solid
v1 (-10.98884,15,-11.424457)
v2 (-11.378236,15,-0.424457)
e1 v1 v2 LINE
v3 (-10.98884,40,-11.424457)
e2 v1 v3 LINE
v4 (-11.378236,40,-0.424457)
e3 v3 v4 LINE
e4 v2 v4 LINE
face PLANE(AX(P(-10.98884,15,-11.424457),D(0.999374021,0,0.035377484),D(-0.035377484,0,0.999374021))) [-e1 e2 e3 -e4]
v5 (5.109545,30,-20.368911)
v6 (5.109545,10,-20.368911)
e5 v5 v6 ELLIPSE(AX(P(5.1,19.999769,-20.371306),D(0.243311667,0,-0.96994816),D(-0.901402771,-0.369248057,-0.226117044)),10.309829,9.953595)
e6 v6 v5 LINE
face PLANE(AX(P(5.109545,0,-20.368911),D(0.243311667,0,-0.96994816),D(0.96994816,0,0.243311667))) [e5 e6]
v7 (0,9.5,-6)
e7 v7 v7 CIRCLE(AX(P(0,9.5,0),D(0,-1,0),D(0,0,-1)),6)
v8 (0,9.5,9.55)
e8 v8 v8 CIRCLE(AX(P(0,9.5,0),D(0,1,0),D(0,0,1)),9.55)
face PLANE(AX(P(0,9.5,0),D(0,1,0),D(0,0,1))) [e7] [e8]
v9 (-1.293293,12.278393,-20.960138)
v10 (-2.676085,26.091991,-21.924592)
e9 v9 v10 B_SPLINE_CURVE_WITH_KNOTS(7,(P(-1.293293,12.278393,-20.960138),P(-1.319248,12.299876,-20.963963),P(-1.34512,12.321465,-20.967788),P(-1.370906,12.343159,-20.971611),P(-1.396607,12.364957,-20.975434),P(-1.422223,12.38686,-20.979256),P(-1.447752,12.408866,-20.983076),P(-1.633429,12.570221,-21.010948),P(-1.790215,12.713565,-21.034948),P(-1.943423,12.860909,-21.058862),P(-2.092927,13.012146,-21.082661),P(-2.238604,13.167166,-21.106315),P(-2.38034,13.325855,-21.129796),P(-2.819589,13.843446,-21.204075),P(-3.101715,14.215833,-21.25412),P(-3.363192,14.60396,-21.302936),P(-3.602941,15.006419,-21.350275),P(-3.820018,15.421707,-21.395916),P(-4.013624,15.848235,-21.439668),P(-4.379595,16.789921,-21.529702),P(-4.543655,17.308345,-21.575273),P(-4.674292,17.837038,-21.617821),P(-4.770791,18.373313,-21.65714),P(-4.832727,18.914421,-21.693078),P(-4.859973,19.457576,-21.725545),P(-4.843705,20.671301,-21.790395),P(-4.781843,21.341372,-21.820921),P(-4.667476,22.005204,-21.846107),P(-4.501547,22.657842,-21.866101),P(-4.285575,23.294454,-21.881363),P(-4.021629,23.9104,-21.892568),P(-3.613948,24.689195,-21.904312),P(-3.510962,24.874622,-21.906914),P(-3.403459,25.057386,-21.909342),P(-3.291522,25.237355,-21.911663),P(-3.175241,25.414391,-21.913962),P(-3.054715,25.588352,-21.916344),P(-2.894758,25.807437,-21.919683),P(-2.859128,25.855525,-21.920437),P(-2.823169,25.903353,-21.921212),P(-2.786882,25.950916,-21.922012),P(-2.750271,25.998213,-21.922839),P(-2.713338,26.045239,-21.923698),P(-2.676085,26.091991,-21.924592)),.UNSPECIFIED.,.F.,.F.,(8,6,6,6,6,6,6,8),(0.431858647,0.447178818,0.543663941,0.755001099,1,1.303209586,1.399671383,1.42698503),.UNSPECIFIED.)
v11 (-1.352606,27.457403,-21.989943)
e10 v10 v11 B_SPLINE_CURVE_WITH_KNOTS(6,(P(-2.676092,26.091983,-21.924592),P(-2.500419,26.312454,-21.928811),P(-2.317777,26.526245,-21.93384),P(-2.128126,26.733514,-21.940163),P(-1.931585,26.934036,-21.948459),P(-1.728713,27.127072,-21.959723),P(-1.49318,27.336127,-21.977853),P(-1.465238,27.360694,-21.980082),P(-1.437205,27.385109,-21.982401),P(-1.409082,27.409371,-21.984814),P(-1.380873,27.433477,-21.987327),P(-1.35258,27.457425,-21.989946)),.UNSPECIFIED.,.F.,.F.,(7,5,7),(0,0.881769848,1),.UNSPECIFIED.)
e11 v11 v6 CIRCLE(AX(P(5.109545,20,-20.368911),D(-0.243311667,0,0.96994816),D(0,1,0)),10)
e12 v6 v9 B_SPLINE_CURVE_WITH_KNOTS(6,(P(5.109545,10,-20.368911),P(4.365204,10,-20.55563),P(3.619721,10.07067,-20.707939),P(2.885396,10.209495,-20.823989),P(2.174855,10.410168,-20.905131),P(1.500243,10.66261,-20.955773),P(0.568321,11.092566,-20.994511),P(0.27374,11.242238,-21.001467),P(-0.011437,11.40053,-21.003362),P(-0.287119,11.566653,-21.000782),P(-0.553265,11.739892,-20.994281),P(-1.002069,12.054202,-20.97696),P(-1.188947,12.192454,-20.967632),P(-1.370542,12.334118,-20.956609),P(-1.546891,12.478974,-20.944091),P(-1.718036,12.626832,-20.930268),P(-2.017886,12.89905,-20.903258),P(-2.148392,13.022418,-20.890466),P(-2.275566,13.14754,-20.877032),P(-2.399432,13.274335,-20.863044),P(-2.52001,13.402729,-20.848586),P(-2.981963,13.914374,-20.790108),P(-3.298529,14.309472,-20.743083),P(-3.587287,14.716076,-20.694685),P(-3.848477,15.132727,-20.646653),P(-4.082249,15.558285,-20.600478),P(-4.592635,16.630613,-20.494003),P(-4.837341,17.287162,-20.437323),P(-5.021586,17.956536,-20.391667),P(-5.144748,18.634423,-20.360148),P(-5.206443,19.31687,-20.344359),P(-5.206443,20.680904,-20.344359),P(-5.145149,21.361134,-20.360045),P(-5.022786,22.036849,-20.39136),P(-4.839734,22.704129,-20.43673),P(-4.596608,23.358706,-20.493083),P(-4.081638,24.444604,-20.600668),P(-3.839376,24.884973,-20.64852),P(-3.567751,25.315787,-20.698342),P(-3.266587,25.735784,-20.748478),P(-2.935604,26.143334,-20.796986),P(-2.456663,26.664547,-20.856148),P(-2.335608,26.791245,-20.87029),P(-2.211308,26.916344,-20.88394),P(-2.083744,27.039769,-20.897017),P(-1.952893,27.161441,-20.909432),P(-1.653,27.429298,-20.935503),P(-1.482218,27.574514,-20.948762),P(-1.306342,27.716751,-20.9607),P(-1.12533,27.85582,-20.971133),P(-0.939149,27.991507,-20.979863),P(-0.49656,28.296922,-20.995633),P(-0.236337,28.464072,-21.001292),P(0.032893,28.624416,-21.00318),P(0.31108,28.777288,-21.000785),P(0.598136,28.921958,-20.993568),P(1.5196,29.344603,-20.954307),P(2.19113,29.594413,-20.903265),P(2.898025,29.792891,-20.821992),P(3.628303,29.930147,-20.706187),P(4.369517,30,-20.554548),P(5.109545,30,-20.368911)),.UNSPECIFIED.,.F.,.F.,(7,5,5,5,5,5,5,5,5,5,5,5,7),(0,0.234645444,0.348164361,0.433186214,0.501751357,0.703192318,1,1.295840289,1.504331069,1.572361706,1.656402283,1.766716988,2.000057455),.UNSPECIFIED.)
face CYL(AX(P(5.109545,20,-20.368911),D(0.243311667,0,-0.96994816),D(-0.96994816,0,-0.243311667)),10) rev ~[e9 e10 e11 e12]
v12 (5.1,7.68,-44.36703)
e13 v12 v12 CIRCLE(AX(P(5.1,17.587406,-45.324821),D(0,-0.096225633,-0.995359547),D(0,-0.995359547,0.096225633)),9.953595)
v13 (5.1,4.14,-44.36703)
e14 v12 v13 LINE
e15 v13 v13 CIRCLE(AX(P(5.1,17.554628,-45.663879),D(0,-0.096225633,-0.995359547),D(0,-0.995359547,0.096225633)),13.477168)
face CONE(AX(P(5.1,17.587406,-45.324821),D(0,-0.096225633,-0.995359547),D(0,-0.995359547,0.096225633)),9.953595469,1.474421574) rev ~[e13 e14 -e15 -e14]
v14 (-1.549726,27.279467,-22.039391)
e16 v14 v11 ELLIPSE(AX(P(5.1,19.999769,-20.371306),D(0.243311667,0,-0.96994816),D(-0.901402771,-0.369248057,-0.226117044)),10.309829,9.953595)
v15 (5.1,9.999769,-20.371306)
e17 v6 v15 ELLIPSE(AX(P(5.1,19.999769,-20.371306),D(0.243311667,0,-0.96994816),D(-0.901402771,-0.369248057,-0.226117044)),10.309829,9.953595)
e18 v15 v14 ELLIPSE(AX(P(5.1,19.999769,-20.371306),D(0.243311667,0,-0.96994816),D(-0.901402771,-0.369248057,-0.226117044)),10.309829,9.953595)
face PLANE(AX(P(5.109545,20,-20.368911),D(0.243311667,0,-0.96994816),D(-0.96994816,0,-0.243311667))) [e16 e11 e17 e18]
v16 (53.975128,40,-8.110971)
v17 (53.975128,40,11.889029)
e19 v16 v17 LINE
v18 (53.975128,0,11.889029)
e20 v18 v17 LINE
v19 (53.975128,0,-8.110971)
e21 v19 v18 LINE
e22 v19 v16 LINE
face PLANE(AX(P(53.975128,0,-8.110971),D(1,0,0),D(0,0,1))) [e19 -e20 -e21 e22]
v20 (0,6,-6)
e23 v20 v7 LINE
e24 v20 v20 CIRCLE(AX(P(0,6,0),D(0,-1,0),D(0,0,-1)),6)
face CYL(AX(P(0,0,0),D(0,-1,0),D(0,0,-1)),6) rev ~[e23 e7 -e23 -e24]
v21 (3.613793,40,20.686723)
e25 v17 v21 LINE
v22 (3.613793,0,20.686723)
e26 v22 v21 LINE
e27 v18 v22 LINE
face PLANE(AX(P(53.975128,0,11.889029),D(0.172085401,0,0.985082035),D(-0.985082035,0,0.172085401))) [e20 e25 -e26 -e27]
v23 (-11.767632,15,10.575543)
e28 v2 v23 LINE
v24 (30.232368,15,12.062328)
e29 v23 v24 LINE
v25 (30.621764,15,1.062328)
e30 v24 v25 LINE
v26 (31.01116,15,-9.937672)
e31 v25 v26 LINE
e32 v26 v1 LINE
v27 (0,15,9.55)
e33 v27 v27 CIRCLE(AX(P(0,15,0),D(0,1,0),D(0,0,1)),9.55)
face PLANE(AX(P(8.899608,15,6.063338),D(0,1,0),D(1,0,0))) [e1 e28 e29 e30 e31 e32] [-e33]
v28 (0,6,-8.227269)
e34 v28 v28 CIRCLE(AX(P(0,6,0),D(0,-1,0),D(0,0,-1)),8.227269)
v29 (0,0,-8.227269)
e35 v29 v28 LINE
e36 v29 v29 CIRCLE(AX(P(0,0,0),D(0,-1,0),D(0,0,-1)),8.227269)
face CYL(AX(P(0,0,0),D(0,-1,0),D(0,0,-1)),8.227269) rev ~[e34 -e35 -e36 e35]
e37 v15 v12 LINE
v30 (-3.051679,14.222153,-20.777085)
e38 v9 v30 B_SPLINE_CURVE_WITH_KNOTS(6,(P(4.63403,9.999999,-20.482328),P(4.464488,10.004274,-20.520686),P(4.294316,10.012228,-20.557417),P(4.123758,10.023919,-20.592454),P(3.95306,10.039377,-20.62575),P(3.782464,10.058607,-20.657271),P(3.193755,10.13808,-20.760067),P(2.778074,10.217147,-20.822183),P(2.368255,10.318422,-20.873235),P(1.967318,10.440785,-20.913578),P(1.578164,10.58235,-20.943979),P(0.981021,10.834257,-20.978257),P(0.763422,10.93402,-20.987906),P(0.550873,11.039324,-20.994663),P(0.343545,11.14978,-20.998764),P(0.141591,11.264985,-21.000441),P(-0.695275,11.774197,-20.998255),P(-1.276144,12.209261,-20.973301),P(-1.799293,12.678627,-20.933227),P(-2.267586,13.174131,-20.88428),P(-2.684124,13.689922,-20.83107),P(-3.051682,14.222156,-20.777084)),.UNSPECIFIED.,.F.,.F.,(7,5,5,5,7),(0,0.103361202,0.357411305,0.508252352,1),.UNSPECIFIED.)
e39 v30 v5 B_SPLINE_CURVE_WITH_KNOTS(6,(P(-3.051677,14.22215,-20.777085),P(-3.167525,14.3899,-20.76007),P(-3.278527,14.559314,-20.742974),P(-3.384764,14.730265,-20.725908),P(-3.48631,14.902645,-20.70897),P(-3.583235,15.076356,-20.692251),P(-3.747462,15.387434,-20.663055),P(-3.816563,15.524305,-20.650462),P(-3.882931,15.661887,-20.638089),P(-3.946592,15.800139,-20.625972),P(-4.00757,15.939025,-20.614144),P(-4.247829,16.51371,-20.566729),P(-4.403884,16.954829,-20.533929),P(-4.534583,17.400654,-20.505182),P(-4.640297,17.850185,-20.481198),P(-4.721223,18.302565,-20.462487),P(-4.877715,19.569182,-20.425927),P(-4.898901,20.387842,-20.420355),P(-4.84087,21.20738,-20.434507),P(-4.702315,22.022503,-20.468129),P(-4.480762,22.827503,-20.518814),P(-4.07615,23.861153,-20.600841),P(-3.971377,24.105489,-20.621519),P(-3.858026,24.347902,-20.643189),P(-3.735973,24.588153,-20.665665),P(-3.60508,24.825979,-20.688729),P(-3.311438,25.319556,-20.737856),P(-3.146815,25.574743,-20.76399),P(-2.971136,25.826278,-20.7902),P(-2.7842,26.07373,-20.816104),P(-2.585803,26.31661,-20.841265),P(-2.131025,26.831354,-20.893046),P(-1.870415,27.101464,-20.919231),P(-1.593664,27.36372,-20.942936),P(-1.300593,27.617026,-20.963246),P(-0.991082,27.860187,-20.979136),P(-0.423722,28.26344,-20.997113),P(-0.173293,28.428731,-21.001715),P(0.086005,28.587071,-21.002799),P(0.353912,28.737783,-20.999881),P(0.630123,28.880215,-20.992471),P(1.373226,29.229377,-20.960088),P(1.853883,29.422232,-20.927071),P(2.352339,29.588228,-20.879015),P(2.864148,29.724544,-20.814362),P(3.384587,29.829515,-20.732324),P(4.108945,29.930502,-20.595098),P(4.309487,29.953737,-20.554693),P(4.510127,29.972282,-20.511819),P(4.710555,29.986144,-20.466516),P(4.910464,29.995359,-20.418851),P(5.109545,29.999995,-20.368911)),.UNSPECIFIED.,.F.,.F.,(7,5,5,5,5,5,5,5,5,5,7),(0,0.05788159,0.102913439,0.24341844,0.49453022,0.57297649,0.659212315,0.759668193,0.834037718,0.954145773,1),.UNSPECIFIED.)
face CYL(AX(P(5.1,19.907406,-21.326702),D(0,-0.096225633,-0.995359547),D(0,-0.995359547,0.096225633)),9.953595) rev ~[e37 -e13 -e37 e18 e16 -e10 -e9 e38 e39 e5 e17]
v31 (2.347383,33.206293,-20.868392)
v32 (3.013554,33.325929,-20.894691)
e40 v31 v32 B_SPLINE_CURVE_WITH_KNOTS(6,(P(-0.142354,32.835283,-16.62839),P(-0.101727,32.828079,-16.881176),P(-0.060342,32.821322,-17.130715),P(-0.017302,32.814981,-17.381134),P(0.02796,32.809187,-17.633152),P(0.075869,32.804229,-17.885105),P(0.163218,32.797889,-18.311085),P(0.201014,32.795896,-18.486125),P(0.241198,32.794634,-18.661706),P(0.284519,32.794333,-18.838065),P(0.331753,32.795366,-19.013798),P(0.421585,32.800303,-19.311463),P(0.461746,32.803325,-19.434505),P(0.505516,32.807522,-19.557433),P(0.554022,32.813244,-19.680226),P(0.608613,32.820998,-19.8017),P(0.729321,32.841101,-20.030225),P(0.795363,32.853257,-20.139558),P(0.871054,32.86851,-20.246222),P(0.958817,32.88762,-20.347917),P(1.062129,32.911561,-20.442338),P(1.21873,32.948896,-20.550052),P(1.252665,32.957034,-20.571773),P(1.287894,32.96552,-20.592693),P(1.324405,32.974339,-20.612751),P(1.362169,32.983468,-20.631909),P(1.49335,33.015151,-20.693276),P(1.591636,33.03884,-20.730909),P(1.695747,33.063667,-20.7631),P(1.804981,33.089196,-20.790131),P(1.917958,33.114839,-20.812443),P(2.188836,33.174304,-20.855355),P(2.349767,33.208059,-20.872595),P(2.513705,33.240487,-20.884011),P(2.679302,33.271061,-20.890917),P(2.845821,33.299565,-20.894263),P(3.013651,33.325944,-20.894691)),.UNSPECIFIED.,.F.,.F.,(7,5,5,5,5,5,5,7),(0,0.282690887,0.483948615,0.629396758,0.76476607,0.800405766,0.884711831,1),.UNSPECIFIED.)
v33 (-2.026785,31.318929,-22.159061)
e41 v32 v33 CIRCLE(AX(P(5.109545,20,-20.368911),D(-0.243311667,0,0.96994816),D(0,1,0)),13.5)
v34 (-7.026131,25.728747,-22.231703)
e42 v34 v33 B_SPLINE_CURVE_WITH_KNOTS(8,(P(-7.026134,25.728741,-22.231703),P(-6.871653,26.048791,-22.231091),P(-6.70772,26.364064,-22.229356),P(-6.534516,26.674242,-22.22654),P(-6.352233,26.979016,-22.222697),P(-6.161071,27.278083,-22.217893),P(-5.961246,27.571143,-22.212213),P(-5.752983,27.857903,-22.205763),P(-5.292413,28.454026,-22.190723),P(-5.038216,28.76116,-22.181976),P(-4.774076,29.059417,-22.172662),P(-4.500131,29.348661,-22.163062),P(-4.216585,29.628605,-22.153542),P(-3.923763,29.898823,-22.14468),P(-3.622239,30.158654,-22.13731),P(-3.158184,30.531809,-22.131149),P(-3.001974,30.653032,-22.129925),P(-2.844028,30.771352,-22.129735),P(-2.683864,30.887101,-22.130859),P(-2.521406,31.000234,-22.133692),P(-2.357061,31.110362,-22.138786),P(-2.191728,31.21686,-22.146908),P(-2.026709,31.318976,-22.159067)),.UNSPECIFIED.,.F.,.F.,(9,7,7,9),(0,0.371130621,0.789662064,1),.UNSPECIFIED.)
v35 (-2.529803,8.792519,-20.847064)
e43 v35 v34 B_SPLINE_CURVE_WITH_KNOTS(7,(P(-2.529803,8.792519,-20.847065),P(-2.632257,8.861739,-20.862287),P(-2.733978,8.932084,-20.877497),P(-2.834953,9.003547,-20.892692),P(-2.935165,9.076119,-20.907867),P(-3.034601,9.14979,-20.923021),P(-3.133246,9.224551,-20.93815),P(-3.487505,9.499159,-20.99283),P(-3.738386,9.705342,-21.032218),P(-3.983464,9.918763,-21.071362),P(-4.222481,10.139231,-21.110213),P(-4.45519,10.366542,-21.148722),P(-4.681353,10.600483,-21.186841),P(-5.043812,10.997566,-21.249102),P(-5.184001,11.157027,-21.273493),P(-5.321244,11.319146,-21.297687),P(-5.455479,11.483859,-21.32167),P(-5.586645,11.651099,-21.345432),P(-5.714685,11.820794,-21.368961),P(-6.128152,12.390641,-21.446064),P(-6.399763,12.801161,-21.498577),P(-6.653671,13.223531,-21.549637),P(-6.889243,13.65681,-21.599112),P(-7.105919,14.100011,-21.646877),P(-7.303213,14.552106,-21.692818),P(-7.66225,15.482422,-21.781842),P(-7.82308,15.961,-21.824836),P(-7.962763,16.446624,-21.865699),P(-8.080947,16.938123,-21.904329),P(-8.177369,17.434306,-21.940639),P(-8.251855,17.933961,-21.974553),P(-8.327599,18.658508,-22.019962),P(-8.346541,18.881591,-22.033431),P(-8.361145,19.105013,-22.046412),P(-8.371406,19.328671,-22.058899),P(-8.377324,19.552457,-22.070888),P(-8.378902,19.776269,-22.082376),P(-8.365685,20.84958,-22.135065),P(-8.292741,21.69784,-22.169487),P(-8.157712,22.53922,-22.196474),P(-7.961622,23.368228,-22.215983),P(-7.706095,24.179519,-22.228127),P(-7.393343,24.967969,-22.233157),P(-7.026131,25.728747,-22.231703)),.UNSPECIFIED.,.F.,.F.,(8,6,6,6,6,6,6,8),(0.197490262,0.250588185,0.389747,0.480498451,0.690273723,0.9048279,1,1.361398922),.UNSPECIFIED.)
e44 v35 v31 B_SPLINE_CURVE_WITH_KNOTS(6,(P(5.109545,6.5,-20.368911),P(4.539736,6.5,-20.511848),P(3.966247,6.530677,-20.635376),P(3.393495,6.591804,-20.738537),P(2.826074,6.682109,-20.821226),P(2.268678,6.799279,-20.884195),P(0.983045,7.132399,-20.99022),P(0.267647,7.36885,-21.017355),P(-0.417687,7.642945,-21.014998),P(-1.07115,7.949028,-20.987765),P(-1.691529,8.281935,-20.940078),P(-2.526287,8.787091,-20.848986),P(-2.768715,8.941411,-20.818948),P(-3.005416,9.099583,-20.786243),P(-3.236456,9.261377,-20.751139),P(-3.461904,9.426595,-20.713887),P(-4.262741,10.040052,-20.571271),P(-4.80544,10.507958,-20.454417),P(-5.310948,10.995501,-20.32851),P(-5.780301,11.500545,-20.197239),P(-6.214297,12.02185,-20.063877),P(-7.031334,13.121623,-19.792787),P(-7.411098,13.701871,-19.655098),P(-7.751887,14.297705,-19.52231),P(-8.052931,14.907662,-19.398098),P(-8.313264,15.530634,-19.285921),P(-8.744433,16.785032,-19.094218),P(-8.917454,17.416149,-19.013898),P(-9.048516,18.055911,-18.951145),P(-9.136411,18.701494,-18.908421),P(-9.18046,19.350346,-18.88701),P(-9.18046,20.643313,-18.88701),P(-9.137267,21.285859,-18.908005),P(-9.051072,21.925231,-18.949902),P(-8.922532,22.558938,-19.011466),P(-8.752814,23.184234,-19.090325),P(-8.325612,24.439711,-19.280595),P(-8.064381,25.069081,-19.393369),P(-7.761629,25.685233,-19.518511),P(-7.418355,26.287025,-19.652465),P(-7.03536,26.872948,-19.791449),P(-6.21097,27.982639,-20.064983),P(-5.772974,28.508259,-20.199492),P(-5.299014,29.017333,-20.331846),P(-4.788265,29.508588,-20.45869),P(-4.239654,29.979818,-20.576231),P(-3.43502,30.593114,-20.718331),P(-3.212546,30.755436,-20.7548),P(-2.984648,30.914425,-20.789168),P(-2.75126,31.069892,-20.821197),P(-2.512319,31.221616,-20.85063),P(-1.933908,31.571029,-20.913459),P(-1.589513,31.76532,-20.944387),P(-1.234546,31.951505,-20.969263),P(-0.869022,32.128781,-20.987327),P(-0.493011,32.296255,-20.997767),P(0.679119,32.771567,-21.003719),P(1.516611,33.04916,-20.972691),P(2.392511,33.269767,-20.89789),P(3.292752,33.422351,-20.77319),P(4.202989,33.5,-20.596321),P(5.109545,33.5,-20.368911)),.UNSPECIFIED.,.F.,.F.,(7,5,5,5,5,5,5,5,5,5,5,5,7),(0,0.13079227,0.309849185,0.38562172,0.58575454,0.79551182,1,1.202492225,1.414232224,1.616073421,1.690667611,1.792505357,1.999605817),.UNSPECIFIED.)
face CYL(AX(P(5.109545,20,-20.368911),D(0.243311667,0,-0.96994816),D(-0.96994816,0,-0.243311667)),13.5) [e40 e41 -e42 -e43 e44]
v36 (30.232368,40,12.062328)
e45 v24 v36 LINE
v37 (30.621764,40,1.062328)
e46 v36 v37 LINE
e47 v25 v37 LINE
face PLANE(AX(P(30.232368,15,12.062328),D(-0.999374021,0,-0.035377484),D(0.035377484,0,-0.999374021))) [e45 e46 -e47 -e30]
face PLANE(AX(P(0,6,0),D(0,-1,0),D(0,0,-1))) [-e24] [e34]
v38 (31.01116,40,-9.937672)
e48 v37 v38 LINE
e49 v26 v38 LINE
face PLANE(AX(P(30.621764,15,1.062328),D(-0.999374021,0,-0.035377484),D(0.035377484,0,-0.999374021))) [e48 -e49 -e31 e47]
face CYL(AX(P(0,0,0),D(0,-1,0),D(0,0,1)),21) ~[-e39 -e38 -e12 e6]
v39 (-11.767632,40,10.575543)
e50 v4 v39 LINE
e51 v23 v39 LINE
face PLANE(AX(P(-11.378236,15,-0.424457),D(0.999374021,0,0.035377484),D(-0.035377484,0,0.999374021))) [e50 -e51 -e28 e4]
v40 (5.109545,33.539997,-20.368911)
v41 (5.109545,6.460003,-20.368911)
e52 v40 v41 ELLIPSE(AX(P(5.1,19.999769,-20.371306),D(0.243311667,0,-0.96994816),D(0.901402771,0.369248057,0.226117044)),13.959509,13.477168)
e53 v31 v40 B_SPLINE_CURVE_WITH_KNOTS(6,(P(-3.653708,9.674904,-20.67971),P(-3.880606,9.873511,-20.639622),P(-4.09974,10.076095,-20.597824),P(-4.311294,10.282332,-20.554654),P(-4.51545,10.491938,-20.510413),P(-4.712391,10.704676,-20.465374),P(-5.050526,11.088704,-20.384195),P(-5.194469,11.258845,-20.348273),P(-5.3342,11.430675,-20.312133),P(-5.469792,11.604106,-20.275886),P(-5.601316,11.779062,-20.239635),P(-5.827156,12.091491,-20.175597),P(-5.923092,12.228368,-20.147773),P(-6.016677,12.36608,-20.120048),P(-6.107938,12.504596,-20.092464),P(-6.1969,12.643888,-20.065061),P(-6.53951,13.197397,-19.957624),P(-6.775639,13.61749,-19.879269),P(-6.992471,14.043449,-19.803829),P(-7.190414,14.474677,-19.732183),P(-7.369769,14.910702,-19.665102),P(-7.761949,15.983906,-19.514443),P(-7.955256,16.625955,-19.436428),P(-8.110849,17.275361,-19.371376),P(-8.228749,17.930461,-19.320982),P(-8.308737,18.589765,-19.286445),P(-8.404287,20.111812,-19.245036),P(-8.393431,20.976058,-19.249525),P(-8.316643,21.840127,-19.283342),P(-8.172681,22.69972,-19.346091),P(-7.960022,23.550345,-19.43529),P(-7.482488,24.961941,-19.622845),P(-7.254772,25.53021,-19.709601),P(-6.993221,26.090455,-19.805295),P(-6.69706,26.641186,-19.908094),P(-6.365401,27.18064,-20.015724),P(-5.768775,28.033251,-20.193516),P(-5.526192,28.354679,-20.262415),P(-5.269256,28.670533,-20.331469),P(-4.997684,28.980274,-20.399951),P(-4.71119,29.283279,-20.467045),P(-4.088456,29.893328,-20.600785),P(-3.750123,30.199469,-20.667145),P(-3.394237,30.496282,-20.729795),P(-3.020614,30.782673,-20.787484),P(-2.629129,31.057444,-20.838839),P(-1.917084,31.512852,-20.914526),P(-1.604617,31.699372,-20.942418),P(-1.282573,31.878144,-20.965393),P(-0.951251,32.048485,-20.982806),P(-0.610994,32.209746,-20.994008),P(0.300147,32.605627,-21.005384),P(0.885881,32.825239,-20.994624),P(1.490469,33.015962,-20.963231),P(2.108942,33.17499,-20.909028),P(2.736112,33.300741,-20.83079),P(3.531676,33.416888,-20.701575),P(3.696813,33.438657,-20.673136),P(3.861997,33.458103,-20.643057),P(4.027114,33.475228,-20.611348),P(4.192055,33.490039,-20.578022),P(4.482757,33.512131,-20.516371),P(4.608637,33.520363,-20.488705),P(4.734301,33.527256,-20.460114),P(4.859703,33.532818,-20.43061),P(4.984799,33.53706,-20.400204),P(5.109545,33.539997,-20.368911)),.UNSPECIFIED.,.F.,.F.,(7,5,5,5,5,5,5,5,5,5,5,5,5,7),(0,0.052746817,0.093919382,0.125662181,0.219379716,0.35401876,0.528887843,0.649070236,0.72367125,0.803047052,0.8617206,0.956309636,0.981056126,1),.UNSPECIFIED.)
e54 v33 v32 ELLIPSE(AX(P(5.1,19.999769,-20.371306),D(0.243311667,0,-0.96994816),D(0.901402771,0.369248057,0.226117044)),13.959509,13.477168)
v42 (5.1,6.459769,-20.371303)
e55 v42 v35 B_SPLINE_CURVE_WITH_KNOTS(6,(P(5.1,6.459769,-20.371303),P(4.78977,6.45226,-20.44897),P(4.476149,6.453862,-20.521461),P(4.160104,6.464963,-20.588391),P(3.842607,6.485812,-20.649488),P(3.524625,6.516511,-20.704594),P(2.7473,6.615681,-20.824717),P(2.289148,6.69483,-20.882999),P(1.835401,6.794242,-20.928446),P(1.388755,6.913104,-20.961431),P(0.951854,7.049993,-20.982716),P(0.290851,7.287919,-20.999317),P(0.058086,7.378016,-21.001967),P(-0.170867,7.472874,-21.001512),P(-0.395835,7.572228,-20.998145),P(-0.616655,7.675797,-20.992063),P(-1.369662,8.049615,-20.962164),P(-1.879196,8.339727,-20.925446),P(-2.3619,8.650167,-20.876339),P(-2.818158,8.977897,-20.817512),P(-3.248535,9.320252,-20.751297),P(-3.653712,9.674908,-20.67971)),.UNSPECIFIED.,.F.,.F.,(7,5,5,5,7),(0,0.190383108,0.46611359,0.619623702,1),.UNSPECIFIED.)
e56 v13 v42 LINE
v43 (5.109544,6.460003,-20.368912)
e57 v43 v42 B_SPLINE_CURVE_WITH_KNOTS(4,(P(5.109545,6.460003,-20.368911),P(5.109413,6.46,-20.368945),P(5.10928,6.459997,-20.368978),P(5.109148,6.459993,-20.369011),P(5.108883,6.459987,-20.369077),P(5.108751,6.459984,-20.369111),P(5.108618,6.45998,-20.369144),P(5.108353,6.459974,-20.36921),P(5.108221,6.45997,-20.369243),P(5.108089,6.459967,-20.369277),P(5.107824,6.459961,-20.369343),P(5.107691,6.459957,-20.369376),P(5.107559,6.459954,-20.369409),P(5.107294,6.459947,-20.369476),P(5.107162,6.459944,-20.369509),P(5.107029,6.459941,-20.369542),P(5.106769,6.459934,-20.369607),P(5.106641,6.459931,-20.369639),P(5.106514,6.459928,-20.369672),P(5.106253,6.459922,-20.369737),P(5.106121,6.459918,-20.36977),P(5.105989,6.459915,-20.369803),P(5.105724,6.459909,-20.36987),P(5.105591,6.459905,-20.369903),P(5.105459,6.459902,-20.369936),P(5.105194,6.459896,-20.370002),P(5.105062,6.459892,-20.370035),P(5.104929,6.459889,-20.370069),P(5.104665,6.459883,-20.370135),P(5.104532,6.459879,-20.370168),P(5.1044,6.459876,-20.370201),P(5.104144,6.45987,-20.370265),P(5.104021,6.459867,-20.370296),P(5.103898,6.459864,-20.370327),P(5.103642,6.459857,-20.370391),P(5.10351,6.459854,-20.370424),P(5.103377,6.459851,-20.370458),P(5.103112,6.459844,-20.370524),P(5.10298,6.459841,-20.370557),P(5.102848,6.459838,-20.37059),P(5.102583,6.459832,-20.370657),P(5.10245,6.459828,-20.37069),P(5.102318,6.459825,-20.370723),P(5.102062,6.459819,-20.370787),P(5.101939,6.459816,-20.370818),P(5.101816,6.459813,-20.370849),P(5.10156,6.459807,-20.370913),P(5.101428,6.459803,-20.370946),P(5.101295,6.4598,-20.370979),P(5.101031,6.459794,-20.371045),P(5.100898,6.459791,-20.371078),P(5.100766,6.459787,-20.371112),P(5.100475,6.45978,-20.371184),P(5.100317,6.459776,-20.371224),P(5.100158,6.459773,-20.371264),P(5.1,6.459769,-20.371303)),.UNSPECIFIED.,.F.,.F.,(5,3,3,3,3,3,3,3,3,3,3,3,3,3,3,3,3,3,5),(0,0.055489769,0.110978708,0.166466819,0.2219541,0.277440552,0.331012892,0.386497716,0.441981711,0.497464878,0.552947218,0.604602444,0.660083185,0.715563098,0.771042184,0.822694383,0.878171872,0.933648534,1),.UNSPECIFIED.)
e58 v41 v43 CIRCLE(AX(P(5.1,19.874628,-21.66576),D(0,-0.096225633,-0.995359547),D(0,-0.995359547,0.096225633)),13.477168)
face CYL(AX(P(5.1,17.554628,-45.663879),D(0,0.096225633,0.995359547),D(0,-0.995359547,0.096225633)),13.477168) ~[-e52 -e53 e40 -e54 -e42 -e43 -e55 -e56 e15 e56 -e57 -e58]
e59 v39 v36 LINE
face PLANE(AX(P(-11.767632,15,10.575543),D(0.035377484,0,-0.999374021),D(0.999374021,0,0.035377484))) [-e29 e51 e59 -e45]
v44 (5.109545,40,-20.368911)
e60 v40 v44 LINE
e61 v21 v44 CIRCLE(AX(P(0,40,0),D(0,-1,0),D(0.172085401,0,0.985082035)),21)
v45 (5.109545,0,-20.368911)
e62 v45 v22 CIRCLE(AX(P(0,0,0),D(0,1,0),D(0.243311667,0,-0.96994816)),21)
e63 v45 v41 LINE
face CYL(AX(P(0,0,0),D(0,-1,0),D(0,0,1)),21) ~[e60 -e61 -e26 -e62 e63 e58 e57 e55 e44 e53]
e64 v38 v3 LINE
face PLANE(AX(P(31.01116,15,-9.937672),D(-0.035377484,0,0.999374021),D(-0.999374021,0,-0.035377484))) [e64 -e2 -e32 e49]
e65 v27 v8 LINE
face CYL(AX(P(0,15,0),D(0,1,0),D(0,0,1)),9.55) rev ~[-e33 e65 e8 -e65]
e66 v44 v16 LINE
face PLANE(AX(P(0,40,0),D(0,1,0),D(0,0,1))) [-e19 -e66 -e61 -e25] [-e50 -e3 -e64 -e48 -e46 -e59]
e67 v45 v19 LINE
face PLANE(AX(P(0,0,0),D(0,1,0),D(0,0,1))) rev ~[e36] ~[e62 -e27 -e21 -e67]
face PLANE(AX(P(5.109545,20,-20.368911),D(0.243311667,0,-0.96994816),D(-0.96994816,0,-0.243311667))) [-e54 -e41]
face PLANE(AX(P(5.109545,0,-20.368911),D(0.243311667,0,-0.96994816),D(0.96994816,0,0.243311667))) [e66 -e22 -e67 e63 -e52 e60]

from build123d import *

# Parameters (mm, degrees)
CROQUIS1_R              = 21
SALIENTE_EXTRUIR1_DEPTH = 40
SALIENTE_EXTRUIR2_DEPTH = 40
SALIENTE_EXTRUIR3_REACH = 77.493
CROQUIS3_R              = 13.5
CROQUIS3_R_2            = 10
CROQUIS7_R              = 8.227269221
CROQUIS7_R_2            = 6
CORTAR_EXTRUIR6_DEPTH   = 6
CROQUIS8_R              = 6
CORTAR_EXTRUIR7_DEPTH   = 72.223648425
CORTAR_EXTRUIR8_START   = -25
CORTAR_EXTRUIR8_DEPTH   = 25
CROQUIS12_R             = 9.55
CORTAR_EXTRUIR9_DEPTH   = 5.5


with BuildPart() as part:
    # Croquis1 → Saliente-Extruir1 (new body)
    with BuildSketch(Plane(origin=(0, 0, 0), x_dir=(1, 0, 0), z_dir=(0, 1, 0))):
        with Locations(Location((0, 0, 0), (0, 0, 270))):
            Circle(CROQUIS1_R)
    extrude(amount=SALIENTE_EXTRUIR1_DEPTH)

    # Croquis2 → Saliente-Extruir2 (add)
    with BuildSketch(Plane(origin=(0, 0, 0), x_dir=(1, 0, 0), z_dir=(0, 1, 0))):
        with BuildLine():
            Line((53.975127576, 8.110971331), (53.975127576, -11.889028669))
            Line((53.975127576, -11.889028669), (3.613793412, -20.686722727))
            ThreePointArc((3.613793412, -20.686722727), (20.98607707, -0.764571273), (5.109545014, 20.368911354))
            Line((5.109545014, 20.368911354), (53.975127576, 8.110971331))
        make_face()
    extrude(amount=SALIENTE_EXTRUIR2_DEPTH)

    # Croquis3 → Saliente-Extruir3 (add, up to next)
    with BuildSketch(Plane(origin=(5.109545014, 0, -20.368911354), x_dir=(-0.9699481597219111, 0, -0.24331166731597212), z_dir=(0.2433116673159721, 0, -0.969948159721911)), mode=Mode.PRIVATE) as saliente_extruir3_sk1:
        with Locations((0, 20)):
            Circle(CROQUIS3_R)
        with Locations((0, 20)):
            Circle(CROQUIS3_R_2, mode=Mode.SUBTRACT)
    saliente_extruir3_tool1 = extrude(saliente_extruir3_sk1.sketch, amount=-SALIENTE_EXTRUIR3_REACH, mode=Mode.PRIVATE) - part.part
    add(saliente_extruir3_tool1.solids().sort_by_distance((17.833482, 20, -17.177109))[0])

    # Croquis7 → Cortar-Extruir6 (cut)
    with BuildSketch(Plane.XZ):
        with Locations(Location((0, 0, 0), (0, 0, 270))):
            Circle(CROQUIS7_R)
        with Locations(Location((0, 0, 0), (0, 0, 270))):
            Circle(CROQUIS7_R_2, mode=Mode.SUBTRACT)
    extrude(amount=-CORTAR_EXTRUIR6_DEPTH, mode=Mode.SUBTRACT)

    # Croquis8 → Cortar-Extruir7 (cut, through all)
    with BuildSketch(Plane.XZ):
        with Locations(Location((0, 0, 0), (0, 0, 270))):
            Circle(CROQUIS8_R)
    extrude(amount=-CORTAR_EXTRUIR7_DEPTH, mode=Mode.SUBTRACT)

    # Croquis10 → Cortar-Extruir8 (cut)
    with BuildSketch(Plane(origin=(0, 40, 0), x_dir=(1, 0, 0), z_dir=(0, 1, 0)).offset(CORTAR_EXTRUIR8_START)):
        with BuildLine():
            Line((-5.995438853, 0.23390802), (-11.37823559, 0.424457107))
            Line((-11.37823559, 0.424457107), (-11.767631672, -10.575542893))
            Line((-11.767631672, -10.575542893), (30.232368328, -12.062327932))
            Line((30.232368328, -12.062327932), (30.62176441, -1.062327932))
            Line((30.62176441, -1.062327932), (5.996971268, -0.190619027))
            ThreePointArc((5.996971268, -0.190619027), (-0.212264906, -5.996244125), (-5.995438853, 0.23390802))
        make_face()
        with BuildLine():
            Line((-10.988839509, 11.424457107), (-11.37823559, 0.424457107))
            Line((-11.37823559, 0.424457107), (-5.995438853, 0.23390802))
            ThreePointArc((-5.995438853, 0.23390802), (0.116976243, 5.998859605), (6, 0))
            ThreePointArc((6, 0), (5.999242769, -0.095321543), (5.996971268, -0.190619027))
            Line((5.996971268, -0.190619027), (30.62176441, -1.062327932))
            Line((30.62176441, -1.062327932), (31.011160491, 9.937672068))
            Line((31.011160491, 9.937672068), (-10.988839509, 11.424457107))
        make_face()
    extrude(amount=CORTAR_EXTRUIR8_DEPTH, mode=Mode.SUBTRACT)

    # Croquis12 → Cortar-Extruir9 (cut)
    with BuildSketch(Plane(origin=(0, 15, 0), x_dir=(1, 0, 0), z_dir=(0, 1, 0))):
        with Locations(Location((0, 0, 0), (0, 0, 270))):
            Circle(CROQUIS12_R)
    extrude(amount=-CORTAR_EXTRUIR9_DEPTH, mode=Mode.SUBTRACT)

    # Croquis4 → Revolución1 (revolve)
    with BuildSketch(Plane(origin=(5.1, 0, 0), x_dir=(0, 0, -1), z_dir=(1, 0, 0))):
        Polygon((20.368911354, 6.46), (14.136824823, 7.062482259), (14.475882844, 10.569704081), (20.368911354, 10), (44.36703003, 7.68), (44.36703003, 4.14), align=None)
    revolve(axis=Axis((5.1, 20, -20.368911354), (0, -0.09622563251762795, -0.9953595469209016)))


solid = part.part
